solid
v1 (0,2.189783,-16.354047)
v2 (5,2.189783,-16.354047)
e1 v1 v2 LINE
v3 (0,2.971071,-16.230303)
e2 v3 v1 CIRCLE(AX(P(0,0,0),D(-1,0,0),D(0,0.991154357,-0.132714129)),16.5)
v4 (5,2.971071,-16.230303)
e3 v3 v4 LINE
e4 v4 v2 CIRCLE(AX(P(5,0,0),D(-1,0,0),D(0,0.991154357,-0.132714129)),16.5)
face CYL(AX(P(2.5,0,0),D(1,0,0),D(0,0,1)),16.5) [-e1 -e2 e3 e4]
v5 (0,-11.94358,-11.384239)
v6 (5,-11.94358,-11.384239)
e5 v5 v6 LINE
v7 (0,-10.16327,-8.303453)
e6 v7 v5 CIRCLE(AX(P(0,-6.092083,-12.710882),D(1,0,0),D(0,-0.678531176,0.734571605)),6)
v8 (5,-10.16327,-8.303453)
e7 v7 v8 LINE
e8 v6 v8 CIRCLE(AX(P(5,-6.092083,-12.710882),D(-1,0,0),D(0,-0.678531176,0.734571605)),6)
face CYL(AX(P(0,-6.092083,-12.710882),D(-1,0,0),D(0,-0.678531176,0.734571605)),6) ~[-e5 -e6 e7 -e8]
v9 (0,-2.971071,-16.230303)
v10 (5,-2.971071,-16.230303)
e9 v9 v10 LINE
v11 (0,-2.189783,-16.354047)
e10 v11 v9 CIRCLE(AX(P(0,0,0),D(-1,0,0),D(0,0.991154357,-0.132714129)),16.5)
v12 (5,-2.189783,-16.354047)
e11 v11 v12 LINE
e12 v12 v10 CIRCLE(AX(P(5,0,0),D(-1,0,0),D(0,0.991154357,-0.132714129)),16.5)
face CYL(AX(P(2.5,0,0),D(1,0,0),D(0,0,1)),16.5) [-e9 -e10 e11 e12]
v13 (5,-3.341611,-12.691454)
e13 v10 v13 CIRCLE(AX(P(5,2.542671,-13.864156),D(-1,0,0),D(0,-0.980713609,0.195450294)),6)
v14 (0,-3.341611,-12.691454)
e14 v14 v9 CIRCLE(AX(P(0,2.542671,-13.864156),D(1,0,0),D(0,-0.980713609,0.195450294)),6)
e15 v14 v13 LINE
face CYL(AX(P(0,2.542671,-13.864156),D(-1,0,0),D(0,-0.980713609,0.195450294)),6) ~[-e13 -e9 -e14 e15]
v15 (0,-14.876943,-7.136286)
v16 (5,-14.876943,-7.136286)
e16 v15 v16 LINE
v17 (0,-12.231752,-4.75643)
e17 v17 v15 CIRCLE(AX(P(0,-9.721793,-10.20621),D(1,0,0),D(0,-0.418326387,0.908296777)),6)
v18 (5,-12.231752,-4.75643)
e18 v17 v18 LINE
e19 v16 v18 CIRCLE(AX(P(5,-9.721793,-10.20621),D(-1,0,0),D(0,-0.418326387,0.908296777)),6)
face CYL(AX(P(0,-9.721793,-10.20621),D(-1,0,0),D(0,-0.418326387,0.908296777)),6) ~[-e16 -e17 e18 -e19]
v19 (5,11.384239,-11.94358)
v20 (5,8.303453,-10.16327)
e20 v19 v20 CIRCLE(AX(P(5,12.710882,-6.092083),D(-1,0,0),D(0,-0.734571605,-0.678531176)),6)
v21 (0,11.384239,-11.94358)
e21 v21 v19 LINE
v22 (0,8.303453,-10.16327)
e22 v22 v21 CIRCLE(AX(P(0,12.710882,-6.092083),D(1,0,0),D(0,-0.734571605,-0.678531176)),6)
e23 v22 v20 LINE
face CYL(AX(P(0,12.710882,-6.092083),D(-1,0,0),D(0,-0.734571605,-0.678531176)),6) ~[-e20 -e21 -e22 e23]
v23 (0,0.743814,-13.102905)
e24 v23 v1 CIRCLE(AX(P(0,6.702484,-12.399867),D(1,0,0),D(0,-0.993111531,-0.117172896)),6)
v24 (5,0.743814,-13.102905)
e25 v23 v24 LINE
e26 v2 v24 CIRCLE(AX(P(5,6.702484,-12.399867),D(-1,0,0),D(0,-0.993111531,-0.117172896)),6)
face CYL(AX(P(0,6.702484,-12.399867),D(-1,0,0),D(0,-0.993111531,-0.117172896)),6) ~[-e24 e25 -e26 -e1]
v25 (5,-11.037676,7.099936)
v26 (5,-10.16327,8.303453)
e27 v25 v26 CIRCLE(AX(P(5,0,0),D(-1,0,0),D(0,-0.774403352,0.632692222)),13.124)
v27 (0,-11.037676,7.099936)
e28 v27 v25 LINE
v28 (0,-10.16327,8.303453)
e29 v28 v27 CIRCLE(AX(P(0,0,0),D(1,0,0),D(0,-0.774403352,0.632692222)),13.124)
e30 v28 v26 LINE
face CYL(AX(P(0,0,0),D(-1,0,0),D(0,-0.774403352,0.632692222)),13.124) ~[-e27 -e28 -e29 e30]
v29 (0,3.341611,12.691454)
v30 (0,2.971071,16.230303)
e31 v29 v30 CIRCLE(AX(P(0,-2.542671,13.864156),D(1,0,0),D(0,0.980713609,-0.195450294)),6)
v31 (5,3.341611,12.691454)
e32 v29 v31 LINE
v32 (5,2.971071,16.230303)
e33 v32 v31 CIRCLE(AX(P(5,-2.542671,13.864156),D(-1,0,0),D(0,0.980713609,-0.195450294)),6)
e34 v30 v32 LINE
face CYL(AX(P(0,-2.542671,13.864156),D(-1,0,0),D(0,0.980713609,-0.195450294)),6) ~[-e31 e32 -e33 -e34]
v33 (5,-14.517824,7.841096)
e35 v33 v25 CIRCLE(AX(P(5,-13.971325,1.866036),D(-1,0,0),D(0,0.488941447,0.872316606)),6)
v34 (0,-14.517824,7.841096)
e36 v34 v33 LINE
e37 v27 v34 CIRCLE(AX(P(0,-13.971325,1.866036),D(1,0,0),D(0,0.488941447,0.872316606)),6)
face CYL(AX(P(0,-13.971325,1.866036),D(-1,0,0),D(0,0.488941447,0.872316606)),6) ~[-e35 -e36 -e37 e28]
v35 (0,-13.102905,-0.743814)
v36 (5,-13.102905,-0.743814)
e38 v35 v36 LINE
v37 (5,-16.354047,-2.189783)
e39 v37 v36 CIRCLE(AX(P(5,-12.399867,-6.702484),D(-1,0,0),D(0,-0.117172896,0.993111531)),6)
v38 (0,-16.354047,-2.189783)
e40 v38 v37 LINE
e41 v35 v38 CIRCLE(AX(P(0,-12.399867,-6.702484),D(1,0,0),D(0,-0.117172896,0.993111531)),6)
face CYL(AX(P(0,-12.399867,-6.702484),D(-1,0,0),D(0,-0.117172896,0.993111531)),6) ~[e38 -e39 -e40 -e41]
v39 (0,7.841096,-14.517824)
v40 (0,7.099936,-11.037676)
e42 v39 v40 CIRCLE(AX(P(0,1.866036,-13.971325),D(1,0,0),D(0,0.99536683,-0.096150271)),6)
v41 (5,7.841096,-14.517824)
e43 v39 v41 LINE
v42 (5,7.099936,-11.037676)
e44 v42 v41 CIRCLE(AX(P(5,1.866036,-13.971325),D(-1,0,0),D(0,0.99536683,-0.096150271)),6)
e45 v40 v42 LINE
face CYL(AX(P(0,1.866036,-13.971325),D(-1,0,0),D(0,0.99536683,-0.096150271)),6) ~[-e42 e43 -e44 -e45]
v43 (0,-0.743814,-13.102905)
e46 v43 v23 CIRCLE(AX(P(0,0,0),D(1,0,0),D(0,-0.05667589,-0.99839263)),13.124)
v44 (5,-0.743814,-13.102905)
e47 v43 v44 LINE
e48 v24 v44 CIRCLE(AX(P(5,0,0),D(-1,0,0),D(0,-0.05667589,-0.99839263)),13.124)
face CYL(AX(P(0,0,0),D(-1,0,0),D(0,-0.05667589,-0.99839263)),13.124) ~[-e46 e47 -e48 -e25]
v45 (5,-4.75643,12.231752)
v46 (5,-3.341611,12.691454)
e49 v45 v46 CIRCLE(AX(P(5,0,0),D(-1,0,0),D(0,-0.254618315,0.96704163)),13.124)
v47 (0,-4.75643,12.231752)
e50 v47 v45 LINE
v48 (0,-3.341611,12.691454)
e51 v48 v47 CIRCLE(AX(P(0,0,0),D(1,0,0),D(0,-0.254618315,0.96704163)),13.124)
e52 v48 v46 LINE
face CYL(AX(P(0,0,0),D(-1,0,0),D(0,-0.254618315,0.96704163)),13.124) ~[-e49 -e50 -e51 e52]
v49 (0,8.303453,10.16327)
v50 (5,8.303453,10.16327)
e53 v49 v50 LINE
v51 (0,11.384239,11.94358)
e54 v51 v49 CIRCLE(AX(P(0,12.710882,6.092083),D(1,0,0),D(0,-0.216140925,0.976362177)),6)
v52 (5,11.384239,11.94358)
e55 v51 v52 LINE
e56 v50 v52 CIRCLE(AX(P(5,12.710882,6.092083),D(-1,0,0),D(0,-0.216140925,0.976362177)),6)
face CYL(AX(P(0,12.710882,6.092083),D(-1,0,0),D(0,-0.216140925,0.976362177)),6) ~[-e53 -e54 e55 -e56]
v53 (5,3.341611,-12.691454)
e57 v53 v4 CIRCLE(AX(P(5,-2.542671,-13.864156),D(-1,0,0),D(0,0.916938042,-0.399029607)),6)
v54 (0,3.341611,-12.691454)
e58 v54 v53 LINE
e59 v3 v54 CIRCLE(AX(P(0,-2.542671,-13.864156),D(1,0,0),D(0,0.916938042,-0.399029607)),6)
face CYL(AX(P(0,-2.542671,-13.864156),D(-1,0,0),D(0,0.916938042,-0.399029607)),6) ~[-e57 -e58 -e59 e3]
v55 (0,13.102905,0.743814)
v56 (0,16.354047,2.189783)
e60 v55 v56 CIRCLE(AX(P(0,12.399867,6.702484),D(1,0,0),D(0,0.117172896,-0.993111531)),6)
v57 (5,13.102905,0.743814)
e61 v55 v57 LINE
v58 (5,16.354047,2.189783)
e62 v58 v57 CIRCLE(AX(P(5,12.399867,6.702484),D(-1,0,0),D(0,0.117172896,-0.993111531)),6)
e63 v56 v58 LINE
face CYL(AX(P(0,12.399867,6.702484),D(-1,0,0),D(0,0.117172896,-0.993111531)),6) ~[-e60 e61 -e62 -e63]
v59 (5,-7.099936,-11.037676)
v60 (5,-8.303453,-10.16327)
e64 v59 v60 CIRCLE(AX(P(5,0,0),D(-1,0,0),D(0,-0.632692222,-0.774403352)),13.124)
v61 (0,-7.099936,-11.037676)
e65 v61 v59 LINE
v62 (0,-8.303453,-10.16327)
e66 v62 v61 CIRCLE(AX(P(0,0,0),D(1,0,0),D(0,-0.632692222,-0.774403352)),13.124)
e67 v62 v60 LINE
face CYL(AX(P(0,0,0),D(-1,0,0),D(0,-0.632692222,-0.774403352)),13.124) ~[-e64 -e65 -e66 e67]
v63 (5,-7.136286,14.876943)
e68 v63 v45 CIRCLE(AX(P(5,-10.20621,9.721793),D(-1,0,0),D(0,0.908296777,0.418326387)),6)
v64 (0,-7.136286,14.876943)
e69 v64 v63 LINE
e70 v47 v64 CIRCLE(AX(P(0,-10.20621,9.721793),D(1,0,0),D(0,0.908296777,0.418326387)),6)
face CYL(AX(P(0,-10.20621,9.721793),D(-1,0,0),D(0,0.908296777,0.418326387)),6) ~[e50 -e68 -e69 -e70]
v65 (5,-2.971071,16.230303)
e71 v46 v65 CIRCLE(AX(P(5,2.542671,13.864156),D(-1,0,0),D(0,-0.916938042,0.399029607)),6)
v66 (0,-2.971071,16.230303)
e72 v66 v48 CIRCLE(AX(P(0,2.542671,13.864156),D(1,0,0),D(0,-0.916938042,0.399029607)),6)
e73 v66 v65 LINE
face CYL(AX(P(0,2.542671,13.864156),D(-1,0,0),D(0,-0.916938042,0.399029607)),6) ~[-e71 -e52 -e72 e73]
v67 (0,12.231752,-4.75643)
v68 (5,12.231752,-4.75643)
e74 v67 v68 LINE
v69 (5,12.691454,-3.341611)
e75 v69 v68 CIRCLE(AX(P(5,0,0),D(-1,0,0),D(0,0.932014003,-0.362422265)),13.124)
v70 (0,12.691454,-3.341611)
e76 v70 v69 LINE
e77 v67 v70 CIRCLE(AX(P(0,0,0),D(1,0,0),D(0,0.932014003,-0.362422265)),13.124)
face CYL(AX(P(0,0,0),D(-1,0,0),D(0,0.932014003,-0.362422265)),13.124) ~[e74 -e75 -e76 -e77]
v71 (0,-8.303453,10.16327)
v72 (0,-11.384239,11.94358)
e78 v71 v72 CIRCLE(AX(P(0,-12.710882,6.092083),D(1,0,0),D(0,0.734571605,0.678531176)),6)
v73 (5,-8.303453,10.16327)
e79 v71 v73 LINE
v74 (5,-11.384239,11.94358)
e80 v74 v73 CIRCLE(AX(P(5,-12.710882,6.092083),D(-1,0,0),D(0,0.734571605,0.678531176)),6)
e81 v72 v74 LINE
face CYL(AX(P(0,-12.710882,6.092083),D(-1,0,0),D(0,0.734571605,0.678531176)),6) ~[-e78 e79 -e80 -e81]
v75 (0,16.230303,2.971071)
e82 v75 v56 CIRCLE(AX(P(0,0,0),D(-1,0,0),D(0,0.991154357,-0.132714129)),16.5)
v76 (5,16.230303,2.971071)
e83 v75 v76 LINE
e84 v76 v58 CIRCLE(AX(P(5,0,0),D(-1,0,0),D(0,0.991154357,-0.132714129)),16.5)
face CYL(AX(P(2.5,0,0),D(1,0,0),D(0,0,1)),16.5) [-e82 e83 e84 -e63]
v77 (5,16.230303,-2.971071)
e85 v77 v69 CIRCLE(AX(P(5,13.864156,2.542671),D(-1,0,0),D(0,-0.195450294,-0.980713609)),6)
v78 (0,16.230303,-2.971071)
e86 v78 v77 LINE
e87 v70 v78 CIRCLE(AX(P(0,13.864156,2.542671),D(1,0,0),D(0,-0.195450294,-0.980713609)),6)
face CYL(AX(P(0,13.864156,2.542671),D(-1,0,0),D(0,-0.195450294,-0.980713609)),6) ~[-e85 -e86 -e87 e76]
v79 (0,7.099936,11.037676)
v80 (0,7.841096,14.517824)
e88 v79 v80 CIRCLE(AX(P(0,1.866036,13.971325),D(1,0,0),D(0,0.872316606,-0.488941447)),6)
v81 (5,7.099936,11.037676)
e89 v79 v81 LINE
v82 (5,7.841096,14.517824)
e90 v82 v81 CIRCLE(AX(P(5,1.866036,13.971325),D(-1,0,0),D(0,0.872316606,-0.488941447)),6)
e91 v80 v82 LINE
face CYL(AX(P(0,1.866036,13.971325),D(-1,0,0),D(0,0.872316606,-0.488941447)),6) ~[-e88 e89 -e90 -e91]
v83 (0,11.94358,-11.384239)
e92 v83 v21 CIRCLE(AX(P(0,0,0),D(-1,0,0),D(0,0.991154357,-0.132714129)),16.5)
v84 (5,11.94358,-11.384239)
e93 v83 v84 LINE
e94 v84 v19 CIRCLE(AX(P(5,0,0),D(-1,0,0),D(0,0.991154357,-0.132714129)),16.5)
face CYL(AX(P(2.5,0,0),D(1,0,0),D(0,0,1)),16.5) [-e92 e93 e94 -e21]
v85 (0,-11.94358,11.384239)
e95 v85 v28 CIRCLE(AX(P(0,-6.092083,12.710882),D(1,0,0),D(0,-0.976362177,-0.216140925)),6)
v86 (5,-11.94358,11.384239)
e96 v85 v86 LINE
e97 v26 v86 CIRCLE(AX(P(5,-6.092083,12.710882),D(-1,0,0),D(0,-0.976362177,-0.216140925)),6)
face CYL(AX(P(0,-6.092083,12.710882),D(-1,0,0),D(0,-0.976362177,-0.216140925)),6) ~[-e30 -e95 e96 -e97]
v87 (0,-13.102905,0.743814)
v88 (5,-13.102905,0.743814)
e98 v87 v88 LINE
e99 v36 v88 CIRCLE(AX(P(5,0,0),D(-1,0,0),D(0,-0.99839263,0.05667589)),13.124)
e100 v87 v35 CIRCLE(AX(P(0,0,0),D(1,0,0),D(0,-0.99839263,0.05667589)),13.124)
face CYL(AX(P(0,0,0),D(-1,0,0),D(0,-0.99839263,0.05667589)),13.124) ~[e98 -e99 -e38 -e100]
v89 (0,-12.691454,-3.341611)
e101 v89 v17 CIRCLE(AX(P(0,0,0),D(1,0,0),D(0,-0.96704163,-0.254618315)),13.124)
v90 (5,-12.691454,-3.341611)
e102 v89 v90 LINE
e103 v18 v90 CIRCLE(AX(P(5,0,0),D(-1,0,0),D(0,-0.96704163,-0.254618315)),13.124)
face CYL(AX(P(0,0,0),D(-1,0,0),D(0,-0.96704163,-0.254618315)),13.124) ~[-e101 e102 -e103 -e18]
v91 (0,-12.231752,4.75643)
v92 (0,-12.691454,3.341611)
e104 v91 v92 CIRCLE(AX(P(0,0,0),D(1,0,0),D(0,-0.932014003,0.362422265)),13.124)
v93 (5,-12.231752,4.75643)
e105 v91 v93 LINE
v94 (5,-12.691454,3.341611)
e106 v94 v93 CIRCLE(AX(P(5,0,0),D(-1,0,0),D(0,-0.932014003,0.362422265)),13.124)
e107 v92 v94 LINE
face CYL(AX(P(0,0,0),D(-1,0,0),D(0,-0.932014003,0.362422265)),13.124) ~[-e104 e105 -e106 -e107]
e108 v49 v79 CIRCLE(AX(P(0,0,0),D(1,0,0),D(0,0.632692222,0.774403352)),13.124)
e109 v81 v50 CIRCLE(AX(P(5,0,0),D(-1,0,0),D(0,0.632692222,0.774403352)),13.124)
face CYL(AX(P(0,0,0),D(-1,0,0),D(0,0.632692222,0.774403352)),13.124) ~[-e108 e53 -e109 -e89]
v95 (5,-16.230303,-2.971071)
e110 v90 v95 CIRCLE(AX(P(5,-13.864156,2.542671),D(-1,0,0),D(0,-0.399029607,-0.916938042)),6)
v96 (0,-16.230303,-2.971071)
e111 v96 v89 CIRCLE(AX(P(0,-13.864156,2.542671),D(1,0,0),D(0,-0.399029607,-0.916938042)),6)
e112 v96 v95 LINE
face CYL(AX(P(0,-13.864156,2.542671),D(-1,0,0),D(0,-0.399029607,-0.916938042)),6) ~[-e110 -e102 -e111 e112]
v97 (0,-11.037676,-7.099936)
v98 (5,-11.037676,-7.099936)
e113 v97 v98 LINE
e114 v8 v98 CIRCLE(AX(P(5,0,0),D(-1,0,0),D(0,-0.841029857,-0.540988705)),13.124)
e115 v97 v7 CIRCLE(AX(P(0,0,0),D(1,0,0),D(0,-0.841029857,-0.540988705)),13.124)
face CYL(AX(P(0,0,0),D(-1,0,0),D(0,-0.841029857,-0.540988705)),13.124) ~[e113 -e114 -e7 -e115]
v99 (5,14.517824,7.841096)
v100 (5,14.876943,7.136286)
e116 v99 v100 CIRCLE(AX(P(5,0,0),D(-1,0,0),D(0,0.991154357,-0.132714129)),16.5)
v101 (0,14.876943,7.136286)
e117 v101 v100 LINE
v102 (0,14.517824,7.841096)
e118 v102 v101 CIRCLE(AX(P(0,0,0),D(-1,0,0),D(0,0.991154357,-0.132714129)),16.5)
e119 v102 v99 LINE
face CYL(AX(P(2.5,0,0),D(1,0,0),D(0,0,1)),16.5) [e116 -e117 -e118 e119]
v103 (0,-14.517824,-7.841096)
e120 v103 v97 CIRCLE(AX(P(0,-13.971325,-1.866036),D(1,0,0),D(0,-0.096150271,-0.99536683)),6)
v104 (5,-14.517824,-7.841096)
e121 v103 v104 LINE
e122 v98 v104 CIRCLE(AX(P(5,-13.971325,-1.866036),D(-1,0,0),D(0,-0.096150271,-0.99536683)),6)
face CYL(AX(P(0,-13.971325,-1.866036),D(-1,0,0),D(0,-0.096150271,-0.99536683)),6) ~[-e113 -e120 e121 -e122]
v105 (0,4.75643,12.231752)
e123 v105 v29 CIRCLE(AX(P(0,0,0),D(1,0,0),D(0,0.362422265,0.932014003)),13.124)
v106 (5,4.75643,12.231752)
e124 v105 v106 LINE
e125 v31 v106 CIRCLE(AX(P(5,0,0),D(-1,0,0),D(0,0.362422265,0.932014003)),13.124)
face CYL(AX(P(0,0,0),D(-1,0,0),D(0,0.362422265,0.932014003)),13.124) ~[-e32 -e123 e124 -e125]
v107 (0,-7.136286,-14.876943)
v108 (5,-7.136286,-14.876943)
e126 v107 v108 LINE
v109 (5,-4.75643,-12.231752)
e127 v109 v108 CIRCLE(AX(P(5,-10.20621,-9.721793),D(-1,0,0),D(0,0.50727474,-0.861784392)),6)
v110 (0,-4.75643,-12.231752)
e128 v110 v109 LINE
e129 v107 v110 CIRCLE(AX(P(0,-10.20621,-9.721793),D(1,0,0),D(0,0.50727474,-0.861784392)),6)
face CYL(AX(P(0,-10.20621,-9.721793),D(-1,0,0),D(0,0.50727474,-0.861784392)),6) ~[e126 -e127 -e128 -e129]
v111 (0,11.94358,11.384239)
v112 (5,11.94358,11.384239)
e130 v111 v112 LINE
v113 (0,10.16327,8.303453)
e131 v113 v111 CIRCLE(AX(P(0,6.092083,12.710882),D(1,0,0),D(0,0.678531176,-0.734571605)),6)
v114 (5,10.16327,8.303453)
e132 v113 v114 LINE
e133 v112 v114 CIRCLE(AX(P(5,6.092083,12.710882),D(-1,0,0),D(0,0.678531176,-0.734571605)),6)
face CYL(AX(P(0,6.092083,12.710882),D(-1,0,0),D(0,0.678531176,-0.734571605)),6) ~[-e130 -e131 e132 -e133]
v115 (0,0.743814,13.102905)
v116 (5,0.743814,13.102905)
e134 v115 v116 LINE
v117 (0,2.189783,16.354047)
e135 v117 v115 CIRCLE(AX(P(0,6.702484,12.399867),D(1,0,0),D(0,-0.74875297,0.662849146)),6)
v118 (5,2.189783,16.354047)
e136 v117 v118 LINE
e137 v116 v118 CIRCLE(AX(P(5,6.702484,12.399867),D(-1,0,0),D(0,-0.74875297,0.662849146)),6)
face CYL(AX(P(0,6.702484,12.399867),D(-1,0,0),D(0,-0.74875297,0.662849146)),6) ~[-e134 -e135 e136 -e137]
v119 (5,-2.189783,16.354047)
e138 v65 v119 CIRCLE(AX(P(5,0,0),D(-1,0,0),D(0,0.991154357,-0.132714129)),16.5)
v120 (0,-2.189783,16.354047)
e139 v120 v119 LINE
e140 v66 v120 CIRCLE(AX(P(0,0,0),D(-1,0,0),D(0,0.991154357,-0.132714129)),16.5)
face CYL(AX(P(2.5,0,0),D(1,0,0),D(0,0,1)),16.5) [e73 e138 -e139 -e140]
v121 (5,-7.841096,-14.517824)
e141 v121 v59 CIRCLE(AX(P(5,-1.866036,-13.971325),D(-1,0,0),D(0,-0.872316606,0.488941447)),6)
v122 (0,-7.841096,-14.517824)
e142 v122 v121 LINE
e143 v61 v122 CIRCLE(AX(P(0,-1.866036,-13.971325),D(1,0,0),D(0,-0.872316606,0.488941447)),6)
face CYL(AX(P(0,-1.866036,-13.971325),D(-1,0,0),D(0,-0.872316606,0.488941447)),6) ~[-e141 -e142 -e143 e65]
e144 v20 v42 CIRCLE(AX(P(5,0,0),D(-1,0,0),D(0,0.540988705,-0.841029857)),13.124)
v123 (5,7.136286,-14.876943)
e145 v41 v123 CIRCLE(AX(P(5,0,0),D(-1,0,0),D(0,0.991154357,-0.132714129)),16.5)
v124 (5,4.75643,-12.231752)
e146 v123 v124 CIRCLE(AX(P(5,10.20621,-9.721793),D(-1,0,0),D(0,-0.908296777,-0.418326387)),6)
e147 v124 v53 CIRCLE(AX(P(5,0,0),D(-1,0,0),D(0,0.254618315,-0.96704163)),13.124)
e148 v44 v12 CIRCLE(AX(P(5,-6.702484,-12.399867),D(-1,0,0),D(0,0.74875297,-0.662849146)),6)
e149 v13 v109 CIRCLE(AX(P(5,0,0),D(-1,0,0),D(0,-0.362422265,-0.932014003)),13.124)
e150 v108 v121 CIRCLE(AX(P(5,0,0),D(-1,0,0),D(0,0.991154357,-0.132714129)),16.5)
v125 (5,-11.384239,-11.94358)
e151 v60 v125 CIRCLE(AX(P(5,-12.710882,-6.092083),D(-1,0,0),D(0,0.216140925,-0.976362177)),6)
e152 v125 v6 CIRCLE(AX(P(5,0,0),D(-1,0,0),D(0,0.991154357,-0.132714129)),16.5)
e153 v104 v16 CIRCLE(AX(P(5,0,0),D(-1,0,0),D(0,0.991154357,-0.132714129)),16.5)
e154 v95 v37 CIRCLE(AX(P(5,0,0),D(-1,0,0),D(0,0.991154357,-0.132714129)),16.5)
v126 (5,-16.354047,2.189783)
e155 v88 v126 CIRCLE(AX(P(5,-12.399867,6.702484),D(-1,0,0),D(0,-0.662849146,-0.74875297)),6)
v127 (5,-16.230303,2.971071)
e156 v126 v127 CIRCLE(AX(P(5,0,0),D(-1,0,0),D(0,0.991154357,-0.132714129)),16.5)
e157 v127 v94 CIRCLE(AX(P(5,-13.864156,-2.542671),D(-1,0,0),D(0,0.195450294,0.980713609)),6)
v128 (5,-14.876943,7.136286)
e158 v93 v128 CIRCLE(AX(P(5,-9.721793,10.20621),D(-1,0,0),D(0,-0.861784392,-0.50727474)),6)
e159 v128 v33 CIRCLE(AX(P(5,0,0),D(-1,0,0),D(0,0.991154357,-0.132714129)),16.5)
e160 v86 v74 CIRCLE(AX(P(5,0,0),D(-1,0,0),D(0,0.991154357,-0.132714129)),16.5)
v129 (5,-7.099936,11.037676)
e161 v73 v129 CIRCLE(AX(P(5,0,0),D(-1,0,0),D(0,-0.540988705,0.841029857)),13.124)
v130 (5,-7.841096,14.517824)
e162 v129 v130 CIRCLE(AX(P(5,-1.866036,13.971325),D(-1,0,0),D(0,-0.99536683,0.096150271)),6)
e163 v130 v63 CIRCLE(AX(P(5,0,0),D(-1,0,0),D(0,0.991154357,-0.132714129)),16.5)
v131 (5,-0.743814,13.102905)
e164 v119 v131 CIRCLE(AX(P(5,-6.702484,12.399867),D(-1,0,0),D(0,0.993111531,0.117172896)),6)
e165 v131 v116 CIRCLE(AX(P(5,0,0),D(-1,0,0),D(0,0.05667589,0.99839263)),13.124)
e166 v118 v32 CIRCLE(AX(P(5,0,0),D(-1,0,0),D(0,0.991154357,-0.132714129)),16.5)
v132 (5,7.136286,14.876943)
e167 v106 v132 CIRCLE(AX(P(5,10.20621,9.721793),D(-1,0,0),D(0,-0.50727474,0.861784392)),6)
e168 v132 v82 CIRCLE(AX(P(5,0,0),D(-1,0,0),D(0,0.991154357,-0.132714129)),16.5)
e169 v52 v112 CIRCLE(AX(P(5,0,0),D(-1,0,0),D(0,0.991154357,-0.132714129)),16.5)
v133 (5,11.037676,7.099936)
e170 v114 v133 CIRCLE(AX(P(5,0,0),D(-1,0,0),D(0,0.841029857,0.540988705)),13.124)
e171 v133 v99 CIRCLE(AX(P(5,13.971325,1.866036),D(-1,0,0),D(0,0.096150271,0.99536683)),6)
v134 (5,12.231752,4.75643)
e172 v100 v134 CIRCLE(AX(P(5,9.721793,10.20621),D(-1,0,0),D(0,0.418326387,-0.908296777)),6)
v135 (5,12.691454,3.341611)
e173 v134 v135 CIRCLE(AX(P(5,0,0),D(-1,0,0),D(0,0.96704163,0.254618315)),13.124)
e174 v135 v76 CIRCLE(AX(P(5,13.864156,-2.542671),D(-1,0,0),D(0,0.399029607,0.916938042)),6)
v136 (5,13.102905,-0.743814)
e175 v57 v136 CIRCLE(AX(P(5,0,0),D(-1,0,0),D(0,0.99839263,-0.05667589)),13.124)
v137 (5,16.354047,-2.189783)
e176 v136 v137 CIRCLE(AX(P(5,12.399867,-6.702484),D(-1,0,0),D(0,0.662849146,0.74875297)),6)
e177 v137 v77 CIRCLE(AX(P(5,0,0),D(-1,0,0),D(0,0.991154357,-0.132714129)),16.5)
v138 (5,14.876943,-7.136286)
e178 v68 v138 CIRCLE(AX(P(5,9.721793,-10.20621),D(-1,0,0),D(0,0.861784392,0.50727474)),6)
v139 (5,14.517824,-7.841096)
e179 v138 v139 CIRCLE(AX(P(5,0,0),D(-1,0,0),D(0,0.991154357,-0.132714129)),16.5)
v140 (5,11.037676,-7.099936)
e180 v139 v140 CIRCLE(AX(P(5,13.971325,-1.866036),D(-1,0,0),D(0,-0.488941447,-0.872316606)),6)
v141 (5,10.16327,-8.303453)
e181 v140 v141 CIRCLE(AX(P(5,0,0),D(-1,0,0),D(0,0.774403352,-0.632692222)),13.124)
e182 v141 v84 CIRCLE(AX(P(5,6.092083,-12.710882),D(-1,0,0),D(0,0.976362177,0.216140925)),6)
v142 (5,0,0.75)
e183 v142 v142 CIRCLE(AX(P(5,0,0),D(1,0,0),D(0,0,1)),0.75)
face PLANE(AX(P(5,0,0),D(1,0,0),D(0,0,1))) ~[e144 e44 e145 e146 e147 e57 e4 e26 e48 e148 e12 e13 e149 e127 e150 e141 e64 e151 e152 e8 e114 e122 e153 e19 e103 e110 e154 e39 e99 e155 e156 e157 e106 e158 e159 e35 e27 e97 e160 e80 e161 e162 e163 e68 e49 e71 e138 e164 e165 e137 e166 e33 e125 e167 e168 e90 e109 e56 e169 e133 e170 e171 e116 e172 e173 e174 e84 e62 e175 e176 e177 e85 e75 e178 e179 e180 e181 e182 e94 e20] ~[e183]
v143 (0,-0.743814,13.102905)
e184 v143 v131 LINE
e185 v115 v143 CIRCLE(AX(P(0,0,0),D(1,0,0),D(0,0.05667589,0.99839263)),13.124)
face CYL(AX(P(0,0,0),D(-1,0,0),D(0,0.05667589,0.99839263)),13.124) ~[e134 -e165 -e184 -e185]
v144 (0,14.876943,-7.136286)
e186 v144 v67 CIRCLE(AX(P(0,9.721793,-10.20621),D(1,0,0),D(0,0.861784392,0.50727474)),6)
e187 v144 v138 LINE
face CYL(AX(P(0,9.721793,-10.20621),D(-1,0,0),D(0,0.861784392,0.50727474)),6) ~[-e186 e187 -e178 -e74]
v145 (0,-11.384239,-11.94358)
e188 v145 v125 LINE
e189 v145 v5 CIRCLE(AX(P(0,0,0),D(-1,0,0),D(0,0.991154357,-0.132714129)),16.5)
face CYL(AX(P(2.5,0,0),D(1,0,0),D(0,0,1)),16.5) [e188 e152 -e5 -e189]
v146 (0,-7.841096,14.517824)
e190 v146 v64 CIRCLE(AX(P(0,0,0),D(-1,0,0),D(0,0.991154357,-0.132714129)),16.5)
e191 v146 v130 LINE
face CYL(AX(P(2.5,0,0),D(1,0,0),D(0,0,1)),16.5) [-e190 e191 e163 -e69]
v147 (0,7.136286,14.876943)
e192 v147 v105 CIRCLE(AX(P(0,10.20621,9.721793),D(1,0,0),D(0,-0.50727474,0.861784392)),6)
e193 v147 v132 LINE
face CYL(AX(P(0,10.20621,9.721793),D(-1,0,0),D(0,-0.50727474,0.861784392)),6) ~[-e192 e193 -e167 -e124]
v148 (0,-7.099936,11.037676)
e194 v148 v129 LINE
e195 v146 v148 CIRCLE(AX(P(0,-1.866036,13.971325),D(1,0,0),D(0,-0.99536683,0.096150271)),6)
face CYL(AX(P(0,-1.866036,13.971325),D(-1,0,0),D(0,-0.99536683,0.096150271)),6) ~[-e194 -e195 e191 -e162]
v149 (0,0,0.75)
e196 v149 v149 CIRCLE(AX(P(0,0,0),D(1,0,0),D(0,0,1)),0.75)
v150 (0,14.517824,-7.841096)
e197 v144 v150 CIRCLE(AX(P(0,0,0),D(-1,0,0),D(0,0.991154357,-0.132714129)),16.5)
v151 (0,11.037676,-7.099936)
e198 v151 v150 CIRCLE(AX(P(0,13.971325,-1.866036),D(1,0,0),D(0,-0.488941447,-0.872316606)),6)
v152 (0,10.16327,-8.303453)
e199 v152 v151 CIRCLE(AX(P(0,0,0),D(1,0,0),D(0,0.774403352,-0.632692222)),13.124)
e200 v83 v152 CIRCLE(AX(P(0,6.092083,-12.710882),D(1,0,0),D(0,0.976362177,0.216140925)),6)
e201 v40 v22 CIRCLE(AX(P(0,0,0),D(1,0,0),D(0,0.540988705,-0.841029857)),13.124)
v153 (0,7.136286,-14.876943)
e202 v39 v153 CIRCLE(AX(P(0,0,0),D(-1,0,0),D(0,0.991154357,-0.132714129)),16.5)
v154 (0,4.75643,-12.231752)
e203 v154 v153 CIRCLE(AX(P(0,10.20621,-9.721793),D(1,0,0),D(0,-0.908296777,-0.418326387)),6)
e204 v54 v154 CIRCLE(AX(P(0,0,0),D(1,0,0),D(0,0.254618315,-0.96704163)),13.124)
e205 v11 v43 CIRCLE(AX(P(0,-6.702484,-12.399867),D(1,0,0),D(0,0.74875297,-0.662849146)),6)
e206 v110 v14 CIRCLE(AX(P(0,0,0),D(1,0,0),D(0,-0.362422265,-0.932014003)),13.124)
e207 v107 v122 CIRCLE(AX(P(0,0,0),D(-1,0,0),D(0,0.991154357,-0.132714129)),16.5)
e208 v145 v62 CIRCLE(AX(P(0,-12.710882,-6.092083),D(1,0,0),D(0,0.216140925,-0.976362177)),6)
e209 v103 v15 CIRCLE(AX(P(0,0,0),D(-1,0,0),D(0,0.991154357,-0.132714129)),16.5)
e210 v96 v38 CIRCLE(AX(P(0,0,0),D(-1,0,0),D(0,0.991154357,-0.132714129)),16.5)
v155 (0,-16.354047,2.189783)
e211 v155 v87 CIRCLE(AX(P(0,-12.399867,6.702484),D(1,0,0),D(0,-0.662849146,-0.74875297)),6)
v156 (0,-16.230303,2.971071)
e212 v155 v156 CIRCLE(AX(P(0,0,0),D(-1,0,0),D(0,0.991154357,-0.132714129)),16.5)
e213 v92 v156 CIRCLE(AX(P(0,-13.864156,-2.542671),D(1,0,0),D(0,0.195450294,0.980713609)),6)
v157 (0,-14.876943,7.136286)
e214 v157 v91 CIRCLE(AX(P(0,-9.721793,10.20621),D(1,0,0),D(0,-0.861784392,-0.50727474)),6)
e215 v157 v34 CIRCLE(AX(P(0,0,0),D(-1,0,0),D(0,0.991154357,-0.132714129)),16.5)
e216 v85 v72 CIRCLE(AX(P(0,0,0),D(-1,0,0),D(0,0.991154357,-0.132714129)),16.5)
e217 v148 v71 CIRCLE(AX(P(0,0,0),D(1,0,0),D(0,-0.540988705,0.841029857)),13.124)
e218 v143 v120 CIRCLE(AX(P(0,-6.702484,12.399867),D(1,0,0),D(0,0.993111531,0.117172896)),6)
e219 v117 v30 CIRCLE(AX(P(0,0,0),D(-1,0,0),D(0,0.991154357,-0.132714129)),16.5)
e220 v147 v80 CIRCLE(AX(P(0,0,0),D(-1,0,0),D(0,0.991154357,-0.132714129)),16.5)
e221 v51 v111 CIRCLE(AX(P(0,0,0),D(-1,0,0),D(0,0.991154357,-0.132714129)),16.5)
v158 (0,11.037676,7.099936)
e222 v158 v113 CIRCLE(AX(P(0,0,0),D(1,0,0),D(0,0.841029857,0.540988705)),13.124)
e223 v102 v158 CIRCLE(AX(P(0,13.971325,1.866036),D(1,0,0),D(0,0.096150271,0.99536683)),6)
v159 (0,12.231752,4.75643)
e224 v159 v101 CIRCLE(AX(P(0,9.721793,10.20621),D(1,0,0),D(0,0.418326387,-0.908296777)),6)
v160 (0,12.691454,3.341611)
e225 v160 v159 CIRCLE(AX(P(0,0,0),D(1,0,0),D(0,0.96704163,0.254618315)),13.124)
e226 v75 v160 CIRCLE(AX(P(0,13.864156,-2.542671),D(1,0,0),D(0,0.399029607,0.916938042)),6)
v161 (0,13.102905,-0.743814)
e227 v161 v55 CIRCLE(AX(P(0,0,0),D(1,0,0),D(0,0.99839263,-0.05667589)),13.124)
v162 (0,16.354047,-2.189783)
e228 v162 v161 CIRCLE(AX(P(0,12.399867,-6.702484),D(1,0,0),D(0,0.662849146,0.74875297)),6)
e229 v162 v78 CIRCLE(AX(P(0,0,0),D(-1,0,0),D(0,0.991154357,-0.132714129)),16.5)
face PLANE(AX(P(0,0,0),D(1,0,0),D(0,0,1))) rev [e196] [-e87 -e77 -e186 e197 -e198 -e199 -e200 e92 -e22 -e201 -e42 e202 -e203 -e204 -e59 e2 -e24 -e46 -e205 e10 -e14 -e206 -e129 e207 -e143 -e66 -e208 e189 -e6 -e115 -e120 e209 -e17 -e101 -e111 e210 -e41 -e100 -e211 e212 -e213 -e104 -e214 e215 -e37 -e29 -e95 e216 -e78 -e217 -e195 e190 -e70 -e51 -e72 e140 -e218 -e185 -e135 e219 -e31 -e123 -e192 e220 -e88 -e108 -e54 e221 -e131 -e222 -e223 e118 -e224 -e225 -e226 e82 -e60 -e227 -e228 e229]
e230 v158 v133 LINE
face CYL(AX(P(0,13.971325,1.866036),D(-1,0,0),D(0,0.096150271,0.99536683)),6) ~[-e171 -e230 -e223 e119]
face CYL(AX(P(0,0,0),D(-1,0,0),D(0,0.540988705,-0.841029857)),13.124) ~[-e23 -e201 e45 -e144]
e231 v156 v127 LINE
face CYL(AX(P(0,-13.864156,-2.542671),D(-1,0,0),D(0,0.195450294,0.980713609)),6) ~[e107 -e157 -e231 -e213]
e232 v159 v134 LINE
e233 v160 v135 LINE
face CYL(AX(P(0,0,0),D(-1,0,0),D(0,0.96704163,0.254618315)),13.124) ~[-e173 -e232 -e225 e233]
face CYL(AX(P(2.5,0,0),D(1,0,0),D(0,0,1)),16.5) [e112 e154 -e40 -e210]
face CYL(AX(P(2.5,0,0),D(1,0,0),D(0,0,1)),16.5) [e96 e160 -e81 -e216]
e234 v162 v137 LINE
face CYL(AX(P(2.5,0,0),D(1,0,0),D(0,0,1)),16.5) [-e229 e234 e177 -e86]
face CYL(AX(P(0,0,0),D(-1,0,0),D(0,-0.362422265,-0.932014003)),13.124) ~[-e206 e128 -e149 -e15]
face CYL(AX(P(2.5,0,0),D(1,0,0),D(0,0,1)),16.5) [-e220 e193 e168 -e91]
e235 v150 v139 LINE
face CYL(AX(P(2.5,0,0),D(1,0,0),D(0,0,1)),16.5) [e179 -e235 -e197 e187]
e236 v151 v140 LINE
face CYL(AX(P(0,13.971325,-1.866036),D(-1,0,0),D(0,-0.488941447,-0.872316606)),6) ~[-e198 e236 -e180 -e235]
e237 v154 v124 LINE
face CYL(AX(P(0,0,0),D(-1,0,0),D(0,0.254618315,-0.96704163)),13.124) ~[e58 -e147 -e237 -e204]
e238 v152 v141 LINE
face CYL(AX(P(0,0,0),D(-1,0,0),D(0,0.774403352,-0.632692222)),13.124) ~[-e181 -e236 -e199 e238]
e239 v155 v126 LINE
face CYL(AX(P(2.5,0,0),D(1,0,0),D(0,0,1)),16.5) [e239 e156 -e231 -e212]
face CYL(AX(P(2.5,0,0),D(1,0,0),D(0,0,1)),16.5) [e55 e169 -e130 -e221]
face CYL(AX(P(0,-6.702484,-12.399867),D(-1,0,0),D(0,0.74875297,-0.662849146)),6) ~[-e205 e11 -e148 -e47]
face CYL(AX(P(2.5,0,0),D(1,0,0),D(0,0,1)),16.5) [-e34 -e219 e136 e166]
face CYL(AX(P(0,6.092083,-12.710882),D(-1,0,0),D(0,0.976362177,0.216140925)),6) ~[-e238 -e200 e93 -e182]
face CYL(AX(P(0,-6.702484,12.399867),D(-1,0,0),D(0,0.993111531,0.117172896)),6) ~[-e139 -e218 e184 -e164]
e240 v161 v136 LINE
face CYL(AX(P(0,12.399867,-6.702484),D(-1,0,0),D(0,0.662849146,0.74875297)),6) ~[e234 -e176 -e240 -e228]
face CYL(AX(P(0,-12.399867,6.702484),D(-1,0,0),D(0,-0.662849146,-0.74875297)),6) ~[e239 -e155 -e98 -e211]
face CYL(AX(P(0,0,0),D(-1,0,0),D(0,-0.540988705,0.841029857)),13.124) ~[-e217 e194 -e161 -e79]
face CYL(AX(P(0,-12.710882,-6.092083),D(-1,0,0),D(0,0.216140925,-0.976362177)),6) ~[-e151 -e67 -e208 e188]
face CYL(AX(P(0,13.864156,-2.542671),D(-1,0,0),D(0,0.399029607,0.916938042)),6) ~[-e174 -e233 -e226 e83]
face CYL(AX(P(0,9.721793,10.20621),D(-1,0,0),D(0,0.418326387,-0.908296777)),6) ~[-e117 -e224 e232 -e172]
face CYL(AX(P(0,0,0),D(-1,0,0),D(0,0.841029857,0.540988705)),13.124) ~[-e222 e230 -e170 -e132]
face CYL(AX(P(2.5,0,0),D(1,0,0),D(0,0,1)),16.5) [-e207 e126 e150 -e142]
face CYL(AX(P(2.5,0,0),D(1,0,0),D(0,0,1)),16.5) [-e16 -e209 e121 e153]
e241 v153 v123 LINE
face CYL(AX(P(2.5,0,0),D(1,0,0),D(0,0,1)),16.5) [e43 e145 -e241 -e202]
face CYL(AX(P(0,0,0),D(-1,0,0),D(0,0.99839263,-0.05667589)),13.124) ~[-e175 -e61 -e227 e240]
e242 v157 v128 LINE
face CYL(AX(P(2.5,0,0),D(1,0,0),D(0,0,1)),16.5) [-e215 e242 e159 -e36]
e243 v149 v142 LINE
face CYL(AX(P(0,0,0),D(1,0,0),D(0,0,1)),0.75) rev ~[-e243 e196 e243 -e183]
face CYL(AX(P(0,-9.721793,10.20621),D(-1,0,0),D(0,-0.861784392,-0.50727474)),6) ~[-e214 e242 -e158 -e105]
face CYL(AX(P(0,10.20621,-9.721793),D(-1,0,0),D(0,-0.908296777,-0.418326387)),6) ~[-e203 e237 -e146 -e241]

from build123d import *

# Parameters (mm, degrees)
BASPROSKE_W     = 5
BASPROSKE_H     = 16.5
TOOTHCUT_DEPTH  = 24.864199128
TEETHCUTS_COUNT = 20
TEETHCUTS_ANGLE = 342
BORSKE_R        = 0.75
BORE_DEPTH      = 50.0000508


with BuildPart() as part:
    # BasProSke → Base-Revolve (revolve)
    with BuildSketch(Plane(origin=(0, 0, 0), x_dir=(1, 0, 0), z_dir=(0, 1, 0)), mode=Mode.PRIVATE) as base_revolve_sk:
        with Locations((2.5, 8.25)):
            Rectangle(BASPROSKE_W, BASPROSKE_H)
    revolve(base_revolve_sk.sketch.rotate(Axis((-10, 0, 0), (1, 0, 0)), 180), axis=Axis((-10, 0, 0), (1, 0, 0)))

    # TooCutSke → ToothCut (cut, through all)
    with BuildSketch(Plane(origin=(0, 0, 0), x_dir=(0, 0, -1), z_dir=(1, 0, 0))):
        with BuildLine():
            ThreePointArc((0.74381438, 13.102904875), (0, 13.124), (-0.74381438, 13.102904875))
            ThreePointArc((-0.74381438, 13.102904875), (-1.226473103, 14.852072512), (-2.209965745, 16.376962373))
            ThreePointArc((-2.209965745, 16.376962373), (0, 16.5254), (2.209965745, 16.376962373))
            ThreePointArc((2.209965745, 16.376962373), (1.226473103, 14.852072512), (0.74381438, 13.102904875))
        make_face()
    toothcut = extrude(amount=TOOTHCUT_DEPTH, mode=Mode.SUBTRACT)

    # TeethCuts: ToothCut ×20 about axis
    teethcuts_axis = Axis((-10, 0, 0), (1, 0, 0))
    for i in range(1, TEETHCUTS_COUNT):
        add(toothcut.rotate(teethcuts_axis, i * TEETHCUTS_ANGLE / (TEETHCUTS_COUNT - 1)), mode=Mode.SUBTRACT)

    # BorSke → Bore (cut, symmetric)
    with BuildSketch(Plane(origin=(0, 0, 0), x_dir=(0, 0, -1), z_dir=(1, 0, 0))):
        with Locations(Location((0, 0, 0), (0, 0, 180))):
            Circle(BORSKE_R)
    extrude(amount=BORE_DEPTH, both=True, mode=Mode.SUBTRACT)


solid = part.part
